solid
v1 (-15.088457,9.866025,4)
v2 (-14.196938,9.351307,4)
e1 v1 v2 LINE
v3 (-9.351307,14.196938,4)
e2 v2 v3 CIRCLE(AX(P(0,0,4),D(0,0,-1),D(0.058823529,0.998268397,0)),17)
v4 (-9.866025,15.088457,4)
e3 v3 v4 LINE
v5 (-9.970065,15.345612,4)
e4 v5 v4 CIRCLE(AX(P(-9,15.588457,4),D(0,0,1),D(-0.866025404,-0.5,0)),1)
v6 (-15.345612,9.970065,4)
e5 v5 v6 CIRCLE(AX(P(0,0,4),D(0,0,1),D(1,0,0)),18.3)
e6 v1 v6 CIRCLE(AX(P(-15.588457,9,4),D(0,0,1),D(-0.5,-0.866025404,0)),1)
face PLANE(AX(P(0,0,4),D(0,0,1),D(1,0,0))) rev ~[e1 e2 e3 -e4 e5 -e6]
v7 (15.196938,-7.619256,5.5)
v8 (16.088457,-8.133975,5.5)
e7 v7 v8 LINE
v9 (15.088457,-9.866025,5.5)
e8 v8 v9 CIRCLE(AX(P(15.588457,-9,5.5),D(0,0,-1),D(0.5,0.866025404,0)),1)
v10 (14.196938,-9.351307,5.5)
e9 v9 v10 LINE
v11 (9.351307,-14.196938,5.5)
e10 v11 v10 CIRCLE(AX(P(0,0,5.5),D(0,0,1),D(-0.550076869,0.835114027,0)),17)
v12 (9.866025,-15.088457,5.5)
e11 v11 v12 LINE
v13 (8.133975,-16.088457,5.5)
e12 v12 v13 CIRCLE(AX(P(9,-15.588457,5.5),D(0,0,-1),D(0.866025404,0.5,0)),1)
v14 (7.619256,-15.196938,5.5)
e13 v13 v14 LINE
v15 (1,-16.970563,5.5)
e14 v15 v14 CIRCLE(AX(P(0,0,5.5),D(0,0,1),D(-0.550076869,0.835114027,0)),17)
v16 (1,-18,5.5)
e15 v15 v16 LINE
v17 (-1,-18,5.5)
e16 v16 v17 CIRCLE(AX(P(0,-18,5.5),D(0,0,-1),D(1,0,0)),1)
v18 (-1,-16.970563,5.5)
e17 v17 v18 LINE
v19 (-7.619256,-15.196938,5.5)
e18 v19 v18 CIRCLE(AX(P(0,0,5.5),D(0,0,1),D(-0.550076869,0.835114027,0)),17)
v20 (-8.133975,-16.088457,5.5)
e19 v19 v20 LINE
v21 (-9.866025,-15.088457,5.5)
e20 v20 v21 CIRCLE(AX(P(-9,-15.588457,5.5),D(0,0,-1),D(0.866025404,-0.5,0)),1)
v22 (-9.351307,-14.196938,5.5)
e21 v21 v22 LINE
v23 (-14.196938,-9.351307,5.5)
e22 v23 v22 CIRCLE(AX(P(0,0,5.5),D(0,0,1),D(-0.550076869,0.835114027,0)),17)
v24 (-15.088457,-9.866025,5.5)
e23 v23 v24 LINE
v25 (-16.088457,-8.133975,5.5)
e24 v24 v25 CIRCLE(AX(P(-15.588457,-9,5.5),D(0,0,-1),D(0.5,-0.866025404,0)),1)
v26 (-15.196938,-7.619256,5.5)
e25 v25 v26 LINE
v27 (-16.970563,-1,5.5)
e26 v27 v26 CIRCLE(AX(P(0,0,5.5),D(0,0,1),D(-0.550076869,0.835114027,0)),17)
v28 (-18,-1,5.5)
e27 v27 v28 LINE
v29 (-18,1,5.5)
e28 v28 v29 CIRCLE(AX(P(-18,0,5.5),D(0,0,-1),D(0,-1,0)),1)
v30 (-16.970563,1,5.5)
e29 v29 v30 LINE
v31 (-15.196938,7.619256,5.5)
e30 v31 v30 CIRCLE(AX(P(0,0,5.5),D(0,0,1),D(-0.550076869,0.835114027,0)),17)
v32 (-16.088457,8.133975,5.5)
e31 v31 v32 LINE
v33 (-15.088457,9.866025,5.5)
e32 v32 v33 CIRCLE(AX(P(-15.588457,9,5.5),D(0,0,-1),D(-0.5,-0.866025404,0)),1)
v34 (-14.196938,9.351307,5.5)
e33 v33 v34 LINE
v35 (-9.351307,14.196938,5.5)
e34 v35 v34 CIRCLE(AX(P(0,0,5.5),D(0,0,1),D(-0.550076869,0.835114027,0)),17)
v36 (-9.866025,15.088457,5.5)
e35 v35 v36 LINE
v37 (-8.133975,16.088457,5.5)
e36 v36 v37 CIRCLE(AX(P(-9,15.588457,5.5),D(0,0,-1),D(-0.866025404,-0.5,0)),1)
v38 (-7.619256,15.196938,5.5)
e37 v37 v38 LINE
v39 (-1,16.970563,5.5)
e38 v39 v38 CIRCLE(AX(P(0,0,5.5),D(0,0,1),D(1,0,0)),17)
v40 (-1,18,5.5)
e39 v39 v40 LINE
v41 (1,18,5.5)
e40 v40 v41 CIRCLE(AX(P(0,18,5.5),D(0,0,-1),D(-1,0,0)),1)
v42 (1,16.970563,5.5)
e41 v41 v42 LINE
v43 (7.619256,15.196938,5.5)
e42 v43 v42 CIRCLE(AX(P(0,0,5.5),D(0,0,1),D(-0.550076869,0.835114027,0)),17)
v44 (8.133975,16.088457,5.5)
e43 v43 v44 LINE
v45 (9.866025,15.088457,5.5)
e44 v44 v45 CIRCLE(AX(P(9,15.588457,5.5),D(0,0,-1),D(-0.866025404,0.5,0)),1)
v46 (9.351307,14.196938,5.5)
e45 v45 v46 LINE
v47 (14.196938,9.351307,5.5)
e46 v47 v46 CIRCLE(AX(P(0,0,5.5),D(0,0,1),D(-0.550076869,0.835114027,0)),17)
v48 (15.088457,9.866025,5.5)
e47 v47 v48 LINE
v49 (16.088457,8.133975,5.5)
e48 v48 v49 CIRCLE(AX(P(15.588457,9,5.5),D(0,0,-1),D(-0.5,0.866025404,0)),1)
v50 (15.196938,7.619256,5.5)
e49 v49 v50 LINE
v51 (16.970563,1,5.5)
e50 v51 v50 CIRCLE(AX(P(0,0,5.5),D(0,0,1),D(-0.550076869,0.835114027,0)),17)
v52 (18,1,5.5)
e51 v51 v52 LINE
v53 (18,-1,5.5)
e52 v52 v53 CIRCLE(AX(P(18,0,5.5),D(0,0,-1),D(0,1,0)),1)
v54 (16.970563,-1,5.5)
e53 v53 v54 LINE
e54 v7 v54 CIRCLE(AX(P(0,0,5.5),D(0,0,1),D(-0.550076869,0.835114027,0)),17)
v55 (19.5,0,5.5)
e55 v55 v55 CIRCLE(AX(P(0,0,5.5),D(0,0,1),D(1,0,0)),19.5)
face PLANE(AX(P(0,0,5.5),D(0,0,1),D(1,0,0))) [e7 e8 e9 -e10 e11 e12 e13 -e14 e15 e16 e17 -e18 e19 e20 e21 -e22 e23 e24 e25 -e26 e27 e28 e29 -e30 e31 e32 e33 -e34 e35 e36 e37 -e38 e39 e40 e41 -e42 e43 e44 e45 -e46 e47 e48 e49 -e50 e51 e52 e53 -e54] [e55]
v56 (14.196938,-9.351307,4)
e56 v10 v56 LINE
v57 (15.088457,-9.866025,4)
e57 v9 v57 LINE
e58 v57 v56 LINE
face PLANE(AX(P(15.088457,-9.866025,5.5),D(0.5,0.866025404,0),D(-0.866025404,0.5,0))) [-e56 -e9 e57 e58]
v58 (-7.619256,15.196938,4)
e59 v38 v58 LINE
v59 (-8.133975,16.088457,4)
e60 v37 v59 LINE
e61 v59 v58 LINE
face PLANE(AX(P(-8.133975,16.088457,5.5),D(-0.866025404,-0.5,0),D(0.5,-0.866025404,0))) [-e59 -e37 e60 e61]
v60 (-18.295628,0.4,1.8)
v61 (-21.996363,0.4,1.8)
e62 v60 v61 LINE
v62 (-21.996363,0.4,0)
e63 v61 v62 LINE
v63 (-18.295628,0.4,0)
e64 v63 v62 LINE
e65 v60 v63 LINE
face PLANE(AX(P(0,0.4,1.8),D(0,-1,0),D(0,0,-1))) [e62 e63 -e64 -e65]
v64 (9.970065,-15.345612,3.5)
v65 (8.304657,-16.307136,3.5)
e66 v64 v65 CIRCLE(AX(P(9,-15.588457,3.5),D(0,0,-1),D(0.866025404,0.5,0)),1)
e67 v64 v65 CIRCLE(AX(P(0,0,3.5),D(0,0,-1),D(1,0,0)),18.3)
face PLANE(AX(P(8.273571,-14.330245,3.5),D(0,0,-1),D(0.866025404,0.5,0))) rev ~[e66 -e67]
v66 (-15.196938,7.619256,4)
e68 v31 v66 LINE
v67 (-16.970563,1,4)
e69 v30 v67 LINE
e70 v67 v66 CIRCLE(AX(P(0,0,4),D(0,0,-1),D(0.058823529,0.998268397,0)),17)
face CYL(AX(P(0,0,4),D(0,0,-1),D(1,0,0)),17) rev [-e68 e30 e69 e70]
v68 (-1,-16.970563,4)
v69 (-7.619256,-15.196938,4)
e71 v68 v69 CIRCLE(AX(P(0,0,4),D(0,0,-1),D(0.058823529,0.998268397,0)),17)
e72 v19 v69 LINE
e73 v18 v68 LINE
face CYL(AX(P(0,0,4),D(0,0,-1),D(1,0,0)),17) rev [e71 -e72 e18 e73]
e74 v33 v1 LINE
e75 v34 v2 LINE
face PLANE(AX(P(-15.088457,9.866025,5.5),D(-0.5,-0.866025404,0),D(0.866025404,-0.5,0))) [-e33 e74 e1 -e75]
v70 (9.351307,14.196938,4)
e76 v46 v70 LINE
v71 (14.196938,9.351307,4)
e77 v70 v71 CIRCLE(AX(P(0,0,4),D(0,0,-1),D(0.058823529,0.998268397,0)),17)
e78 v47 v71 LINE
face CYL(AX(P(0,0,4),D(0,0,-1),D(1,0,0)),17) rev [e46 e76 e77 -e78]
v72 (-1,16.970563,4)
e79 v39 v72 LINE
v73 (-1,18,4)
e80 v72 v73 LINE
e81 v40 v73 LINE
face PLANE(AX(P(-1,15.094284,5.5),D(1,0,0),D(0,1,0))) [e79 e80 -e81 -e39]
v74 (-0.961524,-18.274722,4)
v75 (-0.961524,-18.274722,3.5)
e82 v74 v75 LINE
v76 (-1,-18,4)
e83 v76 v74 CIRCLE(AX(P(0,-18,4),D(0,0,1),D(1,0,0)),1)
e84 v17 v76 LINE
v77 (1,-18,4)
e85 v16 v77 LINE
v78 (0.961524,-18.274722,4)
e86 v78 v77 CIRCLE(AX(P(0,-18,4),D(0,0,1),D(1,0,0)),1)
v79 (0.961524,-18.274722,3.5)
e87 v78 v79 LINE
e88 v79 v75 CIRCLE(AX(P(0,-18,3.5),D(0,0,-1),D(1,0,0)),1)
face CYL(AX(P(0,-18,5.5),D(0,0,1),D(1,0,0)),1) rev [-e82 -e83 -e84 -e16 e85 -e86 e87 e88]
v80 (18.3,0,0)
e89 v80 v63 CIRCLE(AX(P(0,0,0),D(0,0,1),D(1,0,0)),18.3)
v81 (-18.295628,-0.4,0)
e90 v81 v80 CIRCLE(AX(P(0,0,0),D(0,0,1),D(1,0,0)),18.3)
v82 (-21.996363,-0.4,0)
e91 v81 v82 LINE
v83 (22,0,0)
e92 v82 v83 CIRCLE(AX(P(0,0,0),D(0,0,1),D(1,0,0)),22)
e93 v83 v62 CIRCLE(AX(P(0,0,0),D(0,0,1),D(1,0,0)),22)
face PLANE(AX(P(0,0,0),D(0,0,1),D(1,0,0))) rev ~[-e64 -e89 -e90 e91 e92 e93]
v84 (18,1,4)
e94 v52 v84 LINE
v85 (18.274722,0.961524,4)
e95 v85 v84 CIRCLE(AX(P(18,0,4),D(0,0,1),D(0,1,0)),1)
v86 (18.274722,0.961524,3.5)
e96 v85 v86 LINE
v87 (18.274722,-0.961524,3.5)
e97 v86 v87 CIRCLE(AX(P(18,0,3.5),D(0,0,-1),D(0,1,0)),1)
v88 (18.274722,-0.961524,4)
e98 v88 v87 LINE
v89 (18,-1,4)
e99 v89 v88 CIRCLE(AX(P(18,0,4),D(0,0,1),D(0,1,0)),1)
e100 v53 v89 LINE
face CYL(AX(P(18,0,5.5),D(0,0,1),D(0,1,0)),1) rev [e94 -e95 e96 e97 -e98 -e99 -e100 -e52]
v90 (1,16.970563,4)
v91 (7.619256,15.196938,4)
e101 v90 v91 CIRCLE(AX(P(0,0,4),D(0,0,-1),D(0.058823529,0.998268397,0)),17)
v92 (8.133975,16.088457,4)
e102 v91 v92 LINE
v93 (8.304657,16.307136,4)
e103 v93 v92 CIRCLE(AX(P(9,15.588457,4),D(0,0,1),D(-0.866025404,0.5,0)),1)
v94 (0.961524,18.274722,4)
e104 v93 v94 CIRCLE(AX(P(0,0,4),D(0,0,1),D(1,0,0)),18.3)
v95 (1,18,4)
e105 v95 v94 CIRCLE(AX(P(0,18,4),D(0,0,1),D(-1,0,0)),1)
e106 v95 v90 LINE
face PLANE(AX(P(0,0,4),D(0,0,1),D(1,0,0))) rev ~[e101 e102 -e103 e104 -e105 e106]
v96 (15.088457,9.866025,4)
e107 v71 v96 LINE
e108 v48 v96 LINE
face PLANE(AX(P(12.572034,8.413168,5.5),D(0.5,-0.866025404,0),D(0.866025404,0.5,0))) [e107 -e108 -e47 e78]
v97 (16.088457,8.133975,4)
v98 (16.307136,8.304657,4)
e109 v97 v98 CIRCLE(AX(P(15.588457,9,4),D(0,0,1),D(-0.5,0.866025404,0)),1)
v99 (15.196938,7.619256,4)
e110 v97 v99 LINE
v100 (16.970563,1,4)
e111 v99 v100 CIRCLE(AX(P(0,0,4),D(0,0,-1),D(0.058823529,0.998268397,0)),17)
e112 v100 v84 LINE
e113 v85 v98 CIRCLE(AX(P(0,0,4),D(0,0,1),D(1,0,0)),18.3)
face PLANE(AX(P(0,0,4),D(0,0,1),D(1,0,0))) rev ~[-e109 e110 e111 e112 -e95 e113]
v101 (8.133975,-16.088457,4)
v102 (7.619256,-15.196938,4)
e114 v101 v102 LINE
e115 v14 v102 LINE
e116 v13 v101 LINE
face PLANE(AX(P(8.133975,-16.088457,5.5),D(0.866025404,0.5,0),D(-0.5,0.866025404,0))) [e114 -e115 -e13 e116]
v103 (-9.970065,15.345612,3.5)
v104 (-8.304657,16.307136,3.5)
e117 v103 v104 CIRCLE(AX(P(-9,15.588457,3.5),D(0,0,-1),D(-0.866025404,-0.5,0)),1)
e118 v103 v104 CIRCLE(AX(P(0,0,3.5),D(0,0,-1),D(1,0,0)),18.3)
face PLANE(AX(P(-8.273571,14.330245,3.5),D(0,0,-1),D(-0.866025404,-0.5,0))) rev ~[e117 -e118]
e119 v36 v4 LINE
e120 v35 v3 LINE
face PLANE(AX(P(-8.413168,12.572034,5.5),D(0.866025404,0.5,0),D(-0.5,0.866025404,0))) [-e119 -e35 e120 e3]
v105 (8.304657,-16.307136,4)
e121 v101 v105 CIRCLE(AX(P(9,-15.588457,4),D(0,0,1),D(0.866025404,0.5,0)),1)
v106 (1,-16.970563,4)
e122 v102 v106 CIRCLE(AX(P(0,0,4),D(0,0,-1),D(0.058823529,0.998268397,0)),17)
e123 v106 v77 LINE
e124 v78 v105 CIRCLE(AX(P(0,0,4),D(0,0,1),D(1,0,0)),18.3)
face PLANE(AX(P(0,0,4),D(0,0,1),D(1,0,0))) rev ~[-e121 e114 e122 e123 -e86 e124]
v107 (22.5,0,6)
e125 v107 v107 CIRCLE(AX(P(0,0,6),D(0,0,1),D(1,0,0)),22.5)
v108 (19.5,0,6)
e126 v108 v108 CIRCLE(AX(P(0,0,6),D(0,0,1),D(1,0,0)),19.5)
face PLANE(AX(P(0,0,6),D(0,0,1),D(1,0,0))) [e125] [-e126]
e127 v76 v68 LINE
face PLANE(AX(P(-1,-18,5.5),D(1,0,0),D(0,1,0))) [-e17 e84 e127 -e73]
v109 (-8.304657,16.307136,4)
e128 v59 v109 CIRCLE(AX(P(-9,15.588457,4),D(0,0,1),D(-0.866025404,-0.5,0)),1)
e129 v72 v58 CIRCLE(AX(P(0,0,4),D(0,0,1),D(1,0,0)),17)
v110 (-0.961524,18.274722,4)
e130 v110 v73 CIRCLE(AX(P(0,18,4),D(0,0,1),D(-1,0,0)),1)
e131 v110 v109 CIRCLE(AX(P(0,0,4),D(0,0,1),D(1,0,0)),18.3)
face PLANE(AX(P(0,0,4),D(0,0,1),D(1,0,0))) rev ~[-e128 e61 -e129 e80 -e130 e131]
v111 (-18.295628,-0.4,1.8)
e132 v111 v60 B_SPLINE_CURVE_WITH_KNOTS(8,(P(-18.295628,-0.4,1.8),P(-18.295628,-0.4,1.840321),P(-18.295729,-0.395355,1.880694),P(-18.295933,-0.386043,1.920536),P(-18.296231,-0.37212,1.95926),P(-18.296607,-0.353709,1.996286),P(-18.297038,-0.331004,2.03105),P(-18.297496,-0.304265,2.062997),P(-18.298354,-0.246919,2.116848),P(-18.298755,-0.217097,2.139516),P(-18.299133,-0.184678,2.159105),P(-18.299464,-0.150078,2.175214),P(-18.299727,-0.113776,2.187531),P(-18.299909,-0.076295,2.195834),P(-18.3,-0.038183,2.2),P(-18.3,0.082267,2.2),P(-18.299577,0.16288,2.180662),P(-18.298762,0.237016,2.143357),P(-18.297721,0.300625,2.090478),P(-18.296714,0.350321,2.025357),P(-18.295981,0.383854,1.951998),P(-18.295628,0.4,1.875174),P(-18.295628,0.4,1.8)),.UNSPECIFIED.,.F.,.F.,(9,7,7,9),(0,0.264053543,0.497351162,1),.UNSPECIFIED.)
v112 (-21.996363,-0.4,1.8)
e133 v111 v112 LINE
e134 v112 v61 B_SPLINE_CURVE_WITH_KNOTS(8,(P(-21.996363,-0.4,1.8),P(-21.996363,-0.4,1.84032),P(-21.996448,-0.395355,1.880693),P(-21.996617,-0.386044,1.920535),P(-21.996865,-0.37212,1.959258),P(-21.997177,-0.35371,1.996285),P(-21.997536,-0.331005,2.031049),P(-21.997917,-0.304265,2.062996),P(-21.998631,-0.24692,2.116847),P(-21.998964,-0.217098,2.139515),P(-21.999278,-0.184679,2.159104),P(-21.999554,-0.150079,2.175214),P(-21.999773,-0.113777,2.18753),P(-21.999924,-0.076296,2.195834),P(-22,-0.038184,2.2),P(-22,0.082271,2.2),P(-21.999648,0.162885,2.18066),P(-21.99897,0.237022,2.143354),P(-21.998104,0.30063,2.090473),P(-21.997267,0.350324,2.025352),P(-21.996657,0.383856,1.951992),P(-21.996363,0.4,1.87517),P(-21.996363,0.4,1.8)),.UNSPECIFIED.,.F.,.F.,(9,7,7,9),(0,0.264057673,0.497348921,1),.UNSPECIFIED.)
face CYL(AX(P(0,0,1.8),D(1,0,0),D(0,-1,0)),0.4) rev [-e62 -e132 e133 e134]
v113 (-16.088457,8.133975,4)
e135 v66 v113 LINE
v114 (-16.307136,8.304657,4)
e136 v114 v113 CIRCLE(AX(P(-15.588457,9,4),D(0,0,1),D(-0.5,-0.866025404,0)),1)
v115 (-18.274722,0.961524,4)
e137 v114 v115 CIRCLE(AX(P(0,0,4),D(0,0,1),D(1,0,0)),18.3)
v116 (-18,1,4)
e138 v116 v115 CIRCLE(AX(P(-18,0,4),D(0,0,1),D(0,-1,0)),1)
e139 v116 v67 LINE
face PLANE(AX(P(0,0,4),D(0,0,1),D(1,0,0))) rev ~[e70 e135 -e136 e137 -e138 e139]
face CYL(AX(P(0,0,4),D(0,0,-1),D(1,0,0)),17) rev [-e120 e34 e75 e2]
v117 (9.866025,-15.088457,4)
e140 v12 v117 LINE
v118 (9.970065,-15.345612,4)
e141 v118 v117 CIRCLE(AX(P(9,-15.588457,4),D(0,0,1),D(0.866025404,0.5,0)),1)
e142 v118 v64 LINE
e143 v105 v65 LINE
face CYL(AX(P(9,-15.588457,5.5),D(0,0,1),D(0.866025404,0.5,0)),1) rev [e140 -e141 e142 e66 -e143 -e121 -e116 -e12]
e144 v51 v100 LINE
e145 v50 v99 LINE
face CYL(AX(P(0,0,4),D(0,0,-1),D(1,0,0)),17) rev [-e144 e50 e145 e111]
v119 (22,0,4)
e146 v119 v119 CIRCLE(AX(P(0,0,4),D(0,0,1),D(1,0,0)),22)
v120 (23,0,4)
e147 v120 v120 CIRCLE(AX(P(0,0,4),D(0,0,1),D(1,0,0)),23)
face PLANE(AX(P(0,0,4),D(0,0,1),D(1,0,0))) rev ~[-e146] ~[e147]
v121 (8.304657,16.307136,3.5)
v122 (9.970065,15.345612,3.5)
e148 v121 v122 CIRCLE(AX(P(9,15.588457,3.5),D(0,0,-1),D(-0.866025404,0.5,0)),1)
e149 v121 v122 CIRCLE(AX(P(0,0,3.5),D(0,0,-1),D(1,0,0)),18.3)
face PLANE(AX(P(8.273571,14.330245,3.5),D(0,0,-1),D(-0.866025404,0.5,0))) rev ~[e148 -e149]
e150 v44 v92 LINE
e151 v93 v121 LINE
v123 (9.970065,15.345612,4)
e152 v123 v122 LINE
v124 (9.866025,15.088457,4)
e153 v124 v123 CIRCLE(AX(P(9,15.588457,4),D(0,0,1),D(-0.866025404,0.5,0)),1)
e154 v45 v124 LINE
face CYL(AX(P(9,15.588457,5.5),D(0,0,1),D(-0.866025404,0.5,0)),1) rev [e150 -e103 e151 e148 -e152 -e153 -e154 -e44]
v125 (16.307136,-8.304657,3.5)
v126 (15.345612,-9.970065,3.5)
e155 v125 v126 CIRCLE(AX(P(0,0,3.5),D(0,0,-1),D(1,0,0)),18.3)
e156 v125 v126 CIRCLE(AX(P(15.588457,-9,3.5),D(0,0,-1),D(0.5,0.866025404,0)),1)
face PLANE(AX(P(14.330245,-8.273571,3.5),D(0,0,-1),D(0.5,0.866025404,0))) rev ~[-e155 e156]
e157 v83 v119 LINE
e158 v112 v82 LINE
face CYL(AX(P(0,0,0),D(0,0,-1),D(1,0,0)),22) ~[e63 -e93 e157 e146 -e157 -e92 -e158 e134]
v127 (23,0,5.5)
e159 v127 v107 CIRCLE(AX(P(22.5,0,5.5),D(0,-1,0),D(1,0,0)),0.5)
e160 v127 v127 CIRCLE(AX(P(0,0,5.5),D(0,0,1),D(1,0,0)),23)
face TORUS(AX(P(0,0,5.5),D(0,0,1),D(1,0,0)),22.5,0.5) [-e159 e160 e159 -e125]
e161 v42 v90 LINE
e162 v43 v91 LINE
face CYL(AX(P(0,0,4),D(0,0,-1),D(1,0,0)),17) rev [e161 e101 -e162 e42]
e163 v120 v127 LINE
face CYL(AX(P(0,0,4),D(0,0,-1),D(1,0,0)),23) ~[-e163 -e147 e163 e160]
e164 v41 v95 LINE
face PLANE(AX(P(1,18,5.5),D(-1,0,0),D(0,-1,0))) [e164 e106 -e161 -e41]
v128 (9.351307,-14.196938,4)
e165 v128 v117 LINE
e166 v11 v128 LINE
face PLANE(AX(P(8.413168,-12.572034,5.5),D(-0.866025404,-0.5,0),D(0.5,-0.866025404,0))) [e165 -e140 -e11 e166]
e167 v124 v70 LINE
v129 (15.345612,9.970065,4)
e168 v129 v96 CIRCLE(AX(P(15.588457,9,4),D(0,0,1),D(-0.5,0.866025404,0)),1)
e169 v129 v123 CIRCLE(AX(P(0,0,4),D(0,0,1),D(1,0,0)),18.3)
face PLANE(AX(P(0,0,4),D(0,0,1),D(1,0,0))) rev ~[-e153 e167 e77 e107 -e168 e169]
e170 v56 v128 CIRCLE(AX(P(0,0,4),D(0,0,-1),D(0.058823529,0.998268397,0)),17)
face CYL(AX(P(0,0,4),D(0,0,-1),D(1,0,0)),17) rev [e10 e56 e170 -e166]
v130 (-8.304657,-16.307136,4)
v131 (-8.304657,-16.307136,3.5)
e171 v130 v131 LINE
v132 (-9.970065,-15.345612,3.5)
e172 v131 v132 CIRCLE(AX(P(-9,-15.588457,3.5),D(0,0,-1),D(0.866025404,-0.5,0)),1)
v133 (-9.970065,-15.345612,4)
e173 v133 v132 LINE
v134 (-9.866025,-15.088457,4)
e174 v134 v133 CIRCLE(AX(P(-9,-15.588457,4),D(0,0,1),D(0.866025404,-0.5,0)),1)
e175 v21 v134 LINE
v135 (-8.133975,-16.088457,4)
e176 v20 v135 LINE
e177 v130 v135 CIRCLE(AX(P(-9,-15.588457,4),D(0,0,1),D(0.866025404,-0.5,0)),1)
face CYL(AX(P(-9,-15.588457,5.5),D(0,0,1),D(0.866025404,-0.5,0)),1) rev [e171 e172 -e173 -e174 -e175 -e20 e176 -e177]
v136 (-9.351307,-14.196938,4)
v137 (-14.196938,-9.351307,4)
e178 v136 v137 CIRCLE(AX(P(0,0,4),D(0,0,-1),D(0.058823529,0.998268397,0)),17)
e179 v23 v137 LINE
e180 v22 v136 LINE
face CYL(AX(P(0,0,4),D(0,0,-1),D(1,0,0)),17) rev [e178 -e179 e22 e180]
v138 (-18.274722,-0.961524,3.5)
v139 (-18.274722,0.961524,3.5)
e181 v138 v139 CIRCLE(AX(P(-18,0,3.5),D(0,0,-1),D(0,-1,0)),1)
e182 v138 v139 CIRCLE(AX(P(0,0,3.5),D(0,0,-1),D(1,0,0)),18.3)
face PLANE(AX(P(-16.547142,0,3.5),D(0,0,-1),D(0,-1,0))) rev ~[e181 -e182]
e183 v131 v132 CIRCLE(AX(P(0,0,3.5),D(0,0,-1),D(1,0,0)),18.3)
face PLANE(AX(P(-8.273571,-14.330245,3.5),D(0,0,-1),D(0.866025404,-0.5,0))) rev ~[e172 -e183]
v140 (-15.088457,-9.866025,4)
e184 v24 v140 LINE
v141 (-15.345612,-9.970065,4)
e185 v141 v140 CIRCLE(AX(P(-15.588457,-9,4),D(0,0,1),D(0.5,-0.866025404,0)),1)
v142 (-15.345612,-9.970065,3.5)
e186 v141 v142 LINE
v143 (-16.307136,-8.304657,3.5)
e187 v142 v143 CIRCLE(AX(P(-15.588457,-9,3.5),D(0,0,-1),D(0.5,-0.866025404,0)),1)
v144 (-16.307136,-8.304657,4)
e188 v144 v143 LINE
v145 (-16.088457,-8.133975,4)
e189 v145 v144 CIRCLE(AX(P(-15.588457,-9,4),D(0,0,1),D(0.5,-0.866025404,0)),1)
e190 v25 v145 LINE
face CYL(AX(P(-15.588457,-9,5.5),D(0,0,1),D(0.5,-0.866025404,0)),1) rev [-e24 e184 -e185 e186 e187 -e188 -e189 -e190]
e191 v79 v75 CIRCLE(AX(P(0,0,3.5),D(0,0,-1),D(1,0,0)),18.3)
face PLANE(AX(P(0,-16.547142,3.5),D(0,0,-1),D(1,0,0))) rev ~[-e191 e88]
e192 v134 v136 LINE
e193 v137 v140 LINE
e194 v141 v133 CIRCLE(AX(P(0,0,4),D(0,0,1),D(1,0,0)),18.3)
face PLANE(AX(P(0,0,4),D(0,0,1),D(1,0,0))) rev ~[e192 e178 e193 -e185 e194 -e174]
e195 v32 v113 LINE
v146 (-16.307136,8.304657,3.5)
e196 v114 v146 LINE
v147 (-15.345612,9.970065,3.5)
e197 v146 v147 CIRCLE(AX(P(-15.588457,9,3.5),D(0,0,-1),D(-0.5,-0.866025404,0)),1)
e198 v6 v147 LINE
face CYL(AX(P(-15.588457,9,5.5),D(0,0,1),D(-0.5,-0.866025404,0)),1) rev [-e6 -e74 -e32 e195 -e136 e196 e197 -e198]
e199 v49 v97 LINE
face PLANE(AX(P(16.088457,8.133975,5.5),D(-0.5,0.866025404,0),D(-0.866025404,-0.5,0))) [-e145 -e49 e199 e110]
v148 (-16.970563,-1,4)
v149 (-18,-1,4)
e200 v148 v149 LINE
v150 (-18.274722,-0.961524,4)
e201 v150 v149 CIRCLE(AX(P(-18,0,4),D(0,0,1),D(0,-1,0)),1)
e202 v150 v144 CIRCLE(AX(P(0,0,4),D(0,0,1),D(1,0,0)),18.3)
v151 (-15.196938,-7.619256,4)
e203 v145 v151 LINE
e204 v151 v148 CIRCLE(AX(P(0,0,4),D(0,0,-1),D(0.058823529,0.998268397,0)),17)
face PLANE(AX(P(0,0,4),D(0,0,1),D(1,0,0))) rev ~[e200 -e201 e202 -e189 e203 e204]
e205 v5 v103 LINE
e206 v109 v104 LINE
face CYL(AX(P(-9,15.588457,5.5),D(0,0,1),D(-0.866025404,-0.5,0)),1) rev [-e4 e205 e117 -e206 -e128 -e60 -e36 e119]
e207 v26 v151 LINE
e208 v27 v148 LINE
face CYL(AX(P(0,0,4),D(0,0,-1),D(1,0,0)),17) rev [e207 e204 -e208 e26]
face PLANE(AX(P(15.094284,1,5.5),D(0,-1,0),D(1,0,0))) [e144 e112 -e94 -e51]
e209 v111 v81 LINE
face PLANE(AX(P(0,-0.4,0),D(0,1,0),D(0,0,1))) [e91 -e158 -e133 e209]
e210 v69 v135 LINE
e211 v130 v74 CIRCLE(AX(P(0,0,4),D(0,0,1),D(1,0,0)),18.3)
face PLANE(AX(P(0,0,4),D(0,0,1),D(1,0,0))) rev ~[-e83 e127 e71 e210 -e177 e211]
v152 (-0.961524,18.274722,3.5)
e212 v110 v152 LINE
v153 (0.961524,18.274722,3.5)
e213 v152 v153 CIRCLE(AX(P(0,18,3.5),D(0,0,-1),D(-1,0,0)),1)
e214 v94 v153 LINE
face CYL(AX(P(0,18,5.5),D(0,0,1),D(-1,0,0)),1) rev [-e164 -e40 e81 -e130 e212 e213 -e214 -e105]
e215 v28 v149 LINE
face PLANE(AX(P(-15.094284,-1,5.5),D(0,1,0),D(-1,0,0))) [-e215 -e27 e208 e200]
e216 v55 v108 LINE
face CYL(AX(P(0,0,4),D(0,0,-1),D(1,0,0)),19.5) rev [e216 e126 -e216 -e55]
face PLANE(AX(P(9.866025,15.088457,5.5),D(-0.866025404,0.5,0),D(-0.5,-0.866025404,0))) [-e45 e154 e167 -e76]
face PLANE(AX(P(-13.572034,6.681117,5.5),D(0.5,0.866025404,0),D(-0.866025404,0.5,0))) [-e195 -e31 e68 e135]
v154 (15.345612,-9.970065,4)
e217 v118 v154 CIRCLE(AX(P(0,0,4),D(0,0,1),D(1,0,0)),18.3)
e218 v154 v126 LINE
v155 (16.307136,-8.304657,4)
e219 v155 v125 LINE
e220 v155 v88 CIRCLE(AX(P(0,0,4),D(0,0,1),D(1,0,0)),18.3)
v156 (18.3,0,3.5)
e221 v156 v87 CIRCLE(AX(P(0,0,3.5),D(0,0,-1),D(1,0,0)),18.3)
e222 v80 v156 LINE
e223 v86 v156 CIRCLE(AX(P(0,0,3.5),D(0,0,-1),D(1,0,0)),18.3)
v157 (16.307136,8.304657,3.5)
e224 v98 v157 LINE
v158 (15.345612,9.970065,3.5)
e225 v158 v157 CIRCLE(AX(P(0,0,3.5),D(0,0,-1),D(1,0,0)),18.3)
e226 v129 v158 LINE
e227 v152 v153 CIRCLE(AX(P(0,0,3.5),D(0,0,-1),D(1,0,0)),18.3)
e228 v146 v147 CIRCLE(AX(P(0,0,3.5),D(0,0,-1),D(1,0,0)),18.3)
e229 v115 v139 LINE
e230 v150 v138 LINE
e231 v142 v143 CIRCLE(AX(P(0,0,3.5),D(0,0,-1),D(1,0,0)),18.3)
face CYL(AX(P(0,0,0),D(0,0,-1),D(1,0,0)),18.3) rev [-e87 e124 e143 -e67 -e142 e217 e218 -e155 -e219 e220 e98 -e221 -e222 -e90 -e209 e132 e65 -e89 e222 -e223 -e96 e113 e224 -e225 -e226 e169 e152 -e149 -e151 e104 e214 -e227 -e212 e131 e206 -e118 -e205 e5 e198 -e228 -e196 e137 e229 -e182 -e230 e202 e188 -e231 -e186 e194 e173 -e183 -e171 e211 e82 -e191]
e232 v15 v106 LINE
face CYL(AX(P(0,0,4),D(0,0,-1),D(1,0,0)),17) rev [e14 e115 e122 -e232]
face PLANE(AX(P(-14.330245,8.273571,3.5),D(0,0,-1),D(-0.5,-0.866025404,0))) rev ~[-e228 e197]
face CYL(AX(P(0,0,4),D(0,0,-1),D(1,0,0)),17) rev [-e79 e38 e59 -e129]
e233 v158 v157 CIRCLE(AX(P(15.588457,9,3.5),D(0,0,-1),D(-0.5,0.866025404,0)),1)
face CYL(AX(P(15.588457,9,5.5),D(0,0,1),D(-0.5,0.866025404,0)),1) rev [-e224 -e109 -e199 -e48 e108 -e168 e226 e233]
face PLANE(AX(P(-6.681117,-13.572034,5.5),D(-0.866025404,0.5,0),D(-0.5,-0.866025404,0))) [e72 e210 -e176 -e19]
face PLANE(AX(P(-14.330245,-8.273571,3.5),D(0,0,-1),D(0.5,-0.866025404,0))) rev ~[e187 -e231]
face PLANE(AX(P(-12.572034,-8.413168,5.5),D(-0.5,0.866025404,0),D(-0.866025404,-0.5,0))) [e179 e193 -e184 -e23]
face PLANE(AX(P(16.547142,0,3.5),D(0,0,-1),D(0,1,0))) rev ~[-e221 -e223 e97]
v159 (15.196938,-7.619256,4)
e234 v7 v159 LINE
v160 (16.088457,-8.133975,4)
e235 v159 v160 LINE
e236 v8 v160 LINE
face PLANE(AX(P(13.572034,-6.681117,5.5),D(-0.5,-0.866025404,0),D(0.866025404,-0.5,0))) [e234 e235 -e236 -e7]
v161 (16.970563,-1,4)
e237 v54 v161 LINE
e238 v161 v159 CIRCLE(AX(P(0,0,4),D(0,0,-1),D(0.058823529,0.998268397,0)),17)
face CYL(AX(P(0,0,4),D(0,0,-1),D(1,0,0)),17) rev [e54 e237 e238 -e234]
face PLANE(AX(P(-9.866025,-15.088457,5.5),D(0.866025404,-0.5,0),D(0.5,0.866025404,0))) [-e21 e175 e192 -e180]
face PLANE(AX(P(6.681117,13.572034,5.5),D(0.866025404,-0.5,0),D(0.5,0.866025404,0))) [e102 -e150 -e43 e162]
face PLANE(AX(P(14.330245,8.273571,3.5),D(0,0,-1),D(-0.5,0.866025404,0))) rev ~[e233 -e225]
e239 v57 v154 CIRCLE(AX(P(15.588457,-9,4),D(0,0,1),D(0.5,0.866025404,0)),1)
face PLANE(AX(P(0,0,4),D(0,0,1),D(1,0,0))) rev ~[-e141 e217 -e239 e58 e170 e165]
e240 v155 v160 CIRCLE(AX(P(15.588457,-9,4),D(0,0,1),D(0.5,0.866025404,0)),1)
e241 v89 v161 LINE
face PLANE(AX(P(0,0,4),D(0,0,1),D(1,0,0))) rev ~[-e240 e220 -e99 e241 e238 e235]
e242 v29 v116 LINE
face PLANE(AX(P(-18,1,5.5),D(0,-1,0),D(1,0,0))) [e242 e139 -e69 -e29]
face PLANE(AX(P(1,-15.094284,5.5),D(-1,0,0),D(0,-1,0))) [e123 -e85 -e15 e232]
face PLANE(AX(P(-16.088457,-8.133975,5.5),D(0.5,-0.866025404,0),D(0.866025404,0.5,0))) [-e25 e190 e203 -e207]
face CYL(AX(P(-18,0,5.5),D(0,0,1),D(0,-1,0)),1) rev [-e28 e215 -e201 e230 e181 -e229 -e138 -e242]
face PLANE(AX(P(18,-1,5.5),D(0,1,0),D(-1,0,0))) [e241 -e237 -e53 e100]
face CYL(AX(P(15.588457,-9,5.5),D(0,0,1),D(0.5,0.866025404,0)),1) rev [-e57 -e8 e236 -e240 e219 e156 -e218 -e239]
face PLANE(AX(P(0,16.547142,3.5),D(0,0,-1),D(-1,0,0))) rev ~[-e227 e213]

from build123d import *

# Parameters (mm, degrees)
ESQUISSE1_R                  = 22
ESQUISSE1_R_2                = 18.3
BOSS_EXTRU_1_DEPTH           = 4
ESQUISSE2_R                  = 23
ESQUISSE2_R_2                = 19.5
BOSS_EXTRU_2_DEPTH           = 2
CONG_1_R                     = 0.5
ENL_V_MAT_EXTRU_1_REACH      = 25
ESQUISSE4_R                  = 19.5
ESQUISSE4_R_2                = 17
BOSS_EXTRU_3_DEPTH           = 1.5
ENL_V_MAT_EXTRU_2_DEPTH      = 2
R_P_TITION_CIRCULAIRE1_COUNT = 12


with BuildPart() as part:
    # Esquisse1 → Boss.-Extru.1 (new body)
    with BuildSketch(Plane.XY):
        Circle(ESQUISSE1_R)
        Circle(ESQUISSE1_R_2, mode=Mode.SUBTRACT)
    extrude(amount=BOSS_EXTRU_1_DEPTH)

    # Esquisse2 → Boss.-Extru.2 (add)
    with BuildSketch(Plane.XY.offset(4)):
        Circle(ESQUISSE2_R)
        Circle(ESQUISSE2_R_2, mode=Mode.SUBTRACT)
    extrude(amount=BOSS_EXTRU_2_DEPTH)

    # Congé1
    cong_1_edges = [part.edges().sort_by_distance(p)[0] for p in [
        (-23, 0, 6),
    ]]
    fillet(cong_1_edges, radius=CONG_1_R)

    # Esquisse3 → Enlèv. mat.-Extru.1 (cut, up to next)
    with BuildSketch(Plane(origin=(0, 0, 0), x_dir=(0, 0, -1), z_dir=(1, 0, 0)), mode=Mode.PRIVATE) as enl_v_mat_extru_1_sk1:
        with BuildLine():
            Line((0, -0.4), (-1.8, -0.4))
            ThreePointArc((-1.8, -0.4), (-2.2, 0), (-1.8, 0.4))
            Line((-1.8, 0.4), (0, 0.4))
            ThreePointArc((0, 0.4), (0.4, 0), (0, -0.4))
        make_face()
    enl_v_mat_extru_1_tool1 = extrude(enl_v_mat_extru_1_sk1.sketch, amount=-ENL_V_MAT_EXTRU_1_REACH, mode=Mode.PRIVATE) & part.part
    add(enl_v_mat_extru_1_tool1.solids().sort_by_distance((0, 0, 0.9))[0], mode=Mode.SUBTRACT)

    # Esquisse4 → Boss.-Extru.3 (add)
    with BuildSketch(Plane.XY.offset(4)):
        Circle(ESQUISSE4_R)
        Circle(ESQUISSE4_R_2, mode=Mode.SUBTRACT)
    extrude(amount=BOSS_EXTRU_3_DEPTH)

    # Esquisse5 → Enlèv. mat.-Extru.2 (cut)
    with BuildSketch(Plane.XY.offset(5.5)):
        with BuildLine():
            Line((-1, 15.094284231), (-1, 18))
            ThreePointArc((-1, 18), (0, 19), (1, 18))
            Line((1, 18), (1, 15.094284231))
            ThreePointArc((1, 15.094284231), (0, 14.094284231), (-1, 15.094284231))
        make_face()
    enl_v_mat_extru_2 = extrude(amount=-ENL_V_MAT_EXTRU_2_DEPTH, mode=Mode.SUBTRACT)

    # Répétition circulaire1: Enlèv. mat.-Extru.2 ×12 about axis
    r_p_tition_circulaire1_axis = Axis((0, 0, 0), (0, 0, 1))
    for i in range(1, R_P_TITION_CIRCULAIRE1_COUNT):
        add(enl_v_mat_extru_2.rotate(r_p_tition_circulaire1_axis, i * 360 / R_P_TITION_CIRCULAIRE1_COUNT), mode=Mode.SUBTRACT)


solid = part.part
